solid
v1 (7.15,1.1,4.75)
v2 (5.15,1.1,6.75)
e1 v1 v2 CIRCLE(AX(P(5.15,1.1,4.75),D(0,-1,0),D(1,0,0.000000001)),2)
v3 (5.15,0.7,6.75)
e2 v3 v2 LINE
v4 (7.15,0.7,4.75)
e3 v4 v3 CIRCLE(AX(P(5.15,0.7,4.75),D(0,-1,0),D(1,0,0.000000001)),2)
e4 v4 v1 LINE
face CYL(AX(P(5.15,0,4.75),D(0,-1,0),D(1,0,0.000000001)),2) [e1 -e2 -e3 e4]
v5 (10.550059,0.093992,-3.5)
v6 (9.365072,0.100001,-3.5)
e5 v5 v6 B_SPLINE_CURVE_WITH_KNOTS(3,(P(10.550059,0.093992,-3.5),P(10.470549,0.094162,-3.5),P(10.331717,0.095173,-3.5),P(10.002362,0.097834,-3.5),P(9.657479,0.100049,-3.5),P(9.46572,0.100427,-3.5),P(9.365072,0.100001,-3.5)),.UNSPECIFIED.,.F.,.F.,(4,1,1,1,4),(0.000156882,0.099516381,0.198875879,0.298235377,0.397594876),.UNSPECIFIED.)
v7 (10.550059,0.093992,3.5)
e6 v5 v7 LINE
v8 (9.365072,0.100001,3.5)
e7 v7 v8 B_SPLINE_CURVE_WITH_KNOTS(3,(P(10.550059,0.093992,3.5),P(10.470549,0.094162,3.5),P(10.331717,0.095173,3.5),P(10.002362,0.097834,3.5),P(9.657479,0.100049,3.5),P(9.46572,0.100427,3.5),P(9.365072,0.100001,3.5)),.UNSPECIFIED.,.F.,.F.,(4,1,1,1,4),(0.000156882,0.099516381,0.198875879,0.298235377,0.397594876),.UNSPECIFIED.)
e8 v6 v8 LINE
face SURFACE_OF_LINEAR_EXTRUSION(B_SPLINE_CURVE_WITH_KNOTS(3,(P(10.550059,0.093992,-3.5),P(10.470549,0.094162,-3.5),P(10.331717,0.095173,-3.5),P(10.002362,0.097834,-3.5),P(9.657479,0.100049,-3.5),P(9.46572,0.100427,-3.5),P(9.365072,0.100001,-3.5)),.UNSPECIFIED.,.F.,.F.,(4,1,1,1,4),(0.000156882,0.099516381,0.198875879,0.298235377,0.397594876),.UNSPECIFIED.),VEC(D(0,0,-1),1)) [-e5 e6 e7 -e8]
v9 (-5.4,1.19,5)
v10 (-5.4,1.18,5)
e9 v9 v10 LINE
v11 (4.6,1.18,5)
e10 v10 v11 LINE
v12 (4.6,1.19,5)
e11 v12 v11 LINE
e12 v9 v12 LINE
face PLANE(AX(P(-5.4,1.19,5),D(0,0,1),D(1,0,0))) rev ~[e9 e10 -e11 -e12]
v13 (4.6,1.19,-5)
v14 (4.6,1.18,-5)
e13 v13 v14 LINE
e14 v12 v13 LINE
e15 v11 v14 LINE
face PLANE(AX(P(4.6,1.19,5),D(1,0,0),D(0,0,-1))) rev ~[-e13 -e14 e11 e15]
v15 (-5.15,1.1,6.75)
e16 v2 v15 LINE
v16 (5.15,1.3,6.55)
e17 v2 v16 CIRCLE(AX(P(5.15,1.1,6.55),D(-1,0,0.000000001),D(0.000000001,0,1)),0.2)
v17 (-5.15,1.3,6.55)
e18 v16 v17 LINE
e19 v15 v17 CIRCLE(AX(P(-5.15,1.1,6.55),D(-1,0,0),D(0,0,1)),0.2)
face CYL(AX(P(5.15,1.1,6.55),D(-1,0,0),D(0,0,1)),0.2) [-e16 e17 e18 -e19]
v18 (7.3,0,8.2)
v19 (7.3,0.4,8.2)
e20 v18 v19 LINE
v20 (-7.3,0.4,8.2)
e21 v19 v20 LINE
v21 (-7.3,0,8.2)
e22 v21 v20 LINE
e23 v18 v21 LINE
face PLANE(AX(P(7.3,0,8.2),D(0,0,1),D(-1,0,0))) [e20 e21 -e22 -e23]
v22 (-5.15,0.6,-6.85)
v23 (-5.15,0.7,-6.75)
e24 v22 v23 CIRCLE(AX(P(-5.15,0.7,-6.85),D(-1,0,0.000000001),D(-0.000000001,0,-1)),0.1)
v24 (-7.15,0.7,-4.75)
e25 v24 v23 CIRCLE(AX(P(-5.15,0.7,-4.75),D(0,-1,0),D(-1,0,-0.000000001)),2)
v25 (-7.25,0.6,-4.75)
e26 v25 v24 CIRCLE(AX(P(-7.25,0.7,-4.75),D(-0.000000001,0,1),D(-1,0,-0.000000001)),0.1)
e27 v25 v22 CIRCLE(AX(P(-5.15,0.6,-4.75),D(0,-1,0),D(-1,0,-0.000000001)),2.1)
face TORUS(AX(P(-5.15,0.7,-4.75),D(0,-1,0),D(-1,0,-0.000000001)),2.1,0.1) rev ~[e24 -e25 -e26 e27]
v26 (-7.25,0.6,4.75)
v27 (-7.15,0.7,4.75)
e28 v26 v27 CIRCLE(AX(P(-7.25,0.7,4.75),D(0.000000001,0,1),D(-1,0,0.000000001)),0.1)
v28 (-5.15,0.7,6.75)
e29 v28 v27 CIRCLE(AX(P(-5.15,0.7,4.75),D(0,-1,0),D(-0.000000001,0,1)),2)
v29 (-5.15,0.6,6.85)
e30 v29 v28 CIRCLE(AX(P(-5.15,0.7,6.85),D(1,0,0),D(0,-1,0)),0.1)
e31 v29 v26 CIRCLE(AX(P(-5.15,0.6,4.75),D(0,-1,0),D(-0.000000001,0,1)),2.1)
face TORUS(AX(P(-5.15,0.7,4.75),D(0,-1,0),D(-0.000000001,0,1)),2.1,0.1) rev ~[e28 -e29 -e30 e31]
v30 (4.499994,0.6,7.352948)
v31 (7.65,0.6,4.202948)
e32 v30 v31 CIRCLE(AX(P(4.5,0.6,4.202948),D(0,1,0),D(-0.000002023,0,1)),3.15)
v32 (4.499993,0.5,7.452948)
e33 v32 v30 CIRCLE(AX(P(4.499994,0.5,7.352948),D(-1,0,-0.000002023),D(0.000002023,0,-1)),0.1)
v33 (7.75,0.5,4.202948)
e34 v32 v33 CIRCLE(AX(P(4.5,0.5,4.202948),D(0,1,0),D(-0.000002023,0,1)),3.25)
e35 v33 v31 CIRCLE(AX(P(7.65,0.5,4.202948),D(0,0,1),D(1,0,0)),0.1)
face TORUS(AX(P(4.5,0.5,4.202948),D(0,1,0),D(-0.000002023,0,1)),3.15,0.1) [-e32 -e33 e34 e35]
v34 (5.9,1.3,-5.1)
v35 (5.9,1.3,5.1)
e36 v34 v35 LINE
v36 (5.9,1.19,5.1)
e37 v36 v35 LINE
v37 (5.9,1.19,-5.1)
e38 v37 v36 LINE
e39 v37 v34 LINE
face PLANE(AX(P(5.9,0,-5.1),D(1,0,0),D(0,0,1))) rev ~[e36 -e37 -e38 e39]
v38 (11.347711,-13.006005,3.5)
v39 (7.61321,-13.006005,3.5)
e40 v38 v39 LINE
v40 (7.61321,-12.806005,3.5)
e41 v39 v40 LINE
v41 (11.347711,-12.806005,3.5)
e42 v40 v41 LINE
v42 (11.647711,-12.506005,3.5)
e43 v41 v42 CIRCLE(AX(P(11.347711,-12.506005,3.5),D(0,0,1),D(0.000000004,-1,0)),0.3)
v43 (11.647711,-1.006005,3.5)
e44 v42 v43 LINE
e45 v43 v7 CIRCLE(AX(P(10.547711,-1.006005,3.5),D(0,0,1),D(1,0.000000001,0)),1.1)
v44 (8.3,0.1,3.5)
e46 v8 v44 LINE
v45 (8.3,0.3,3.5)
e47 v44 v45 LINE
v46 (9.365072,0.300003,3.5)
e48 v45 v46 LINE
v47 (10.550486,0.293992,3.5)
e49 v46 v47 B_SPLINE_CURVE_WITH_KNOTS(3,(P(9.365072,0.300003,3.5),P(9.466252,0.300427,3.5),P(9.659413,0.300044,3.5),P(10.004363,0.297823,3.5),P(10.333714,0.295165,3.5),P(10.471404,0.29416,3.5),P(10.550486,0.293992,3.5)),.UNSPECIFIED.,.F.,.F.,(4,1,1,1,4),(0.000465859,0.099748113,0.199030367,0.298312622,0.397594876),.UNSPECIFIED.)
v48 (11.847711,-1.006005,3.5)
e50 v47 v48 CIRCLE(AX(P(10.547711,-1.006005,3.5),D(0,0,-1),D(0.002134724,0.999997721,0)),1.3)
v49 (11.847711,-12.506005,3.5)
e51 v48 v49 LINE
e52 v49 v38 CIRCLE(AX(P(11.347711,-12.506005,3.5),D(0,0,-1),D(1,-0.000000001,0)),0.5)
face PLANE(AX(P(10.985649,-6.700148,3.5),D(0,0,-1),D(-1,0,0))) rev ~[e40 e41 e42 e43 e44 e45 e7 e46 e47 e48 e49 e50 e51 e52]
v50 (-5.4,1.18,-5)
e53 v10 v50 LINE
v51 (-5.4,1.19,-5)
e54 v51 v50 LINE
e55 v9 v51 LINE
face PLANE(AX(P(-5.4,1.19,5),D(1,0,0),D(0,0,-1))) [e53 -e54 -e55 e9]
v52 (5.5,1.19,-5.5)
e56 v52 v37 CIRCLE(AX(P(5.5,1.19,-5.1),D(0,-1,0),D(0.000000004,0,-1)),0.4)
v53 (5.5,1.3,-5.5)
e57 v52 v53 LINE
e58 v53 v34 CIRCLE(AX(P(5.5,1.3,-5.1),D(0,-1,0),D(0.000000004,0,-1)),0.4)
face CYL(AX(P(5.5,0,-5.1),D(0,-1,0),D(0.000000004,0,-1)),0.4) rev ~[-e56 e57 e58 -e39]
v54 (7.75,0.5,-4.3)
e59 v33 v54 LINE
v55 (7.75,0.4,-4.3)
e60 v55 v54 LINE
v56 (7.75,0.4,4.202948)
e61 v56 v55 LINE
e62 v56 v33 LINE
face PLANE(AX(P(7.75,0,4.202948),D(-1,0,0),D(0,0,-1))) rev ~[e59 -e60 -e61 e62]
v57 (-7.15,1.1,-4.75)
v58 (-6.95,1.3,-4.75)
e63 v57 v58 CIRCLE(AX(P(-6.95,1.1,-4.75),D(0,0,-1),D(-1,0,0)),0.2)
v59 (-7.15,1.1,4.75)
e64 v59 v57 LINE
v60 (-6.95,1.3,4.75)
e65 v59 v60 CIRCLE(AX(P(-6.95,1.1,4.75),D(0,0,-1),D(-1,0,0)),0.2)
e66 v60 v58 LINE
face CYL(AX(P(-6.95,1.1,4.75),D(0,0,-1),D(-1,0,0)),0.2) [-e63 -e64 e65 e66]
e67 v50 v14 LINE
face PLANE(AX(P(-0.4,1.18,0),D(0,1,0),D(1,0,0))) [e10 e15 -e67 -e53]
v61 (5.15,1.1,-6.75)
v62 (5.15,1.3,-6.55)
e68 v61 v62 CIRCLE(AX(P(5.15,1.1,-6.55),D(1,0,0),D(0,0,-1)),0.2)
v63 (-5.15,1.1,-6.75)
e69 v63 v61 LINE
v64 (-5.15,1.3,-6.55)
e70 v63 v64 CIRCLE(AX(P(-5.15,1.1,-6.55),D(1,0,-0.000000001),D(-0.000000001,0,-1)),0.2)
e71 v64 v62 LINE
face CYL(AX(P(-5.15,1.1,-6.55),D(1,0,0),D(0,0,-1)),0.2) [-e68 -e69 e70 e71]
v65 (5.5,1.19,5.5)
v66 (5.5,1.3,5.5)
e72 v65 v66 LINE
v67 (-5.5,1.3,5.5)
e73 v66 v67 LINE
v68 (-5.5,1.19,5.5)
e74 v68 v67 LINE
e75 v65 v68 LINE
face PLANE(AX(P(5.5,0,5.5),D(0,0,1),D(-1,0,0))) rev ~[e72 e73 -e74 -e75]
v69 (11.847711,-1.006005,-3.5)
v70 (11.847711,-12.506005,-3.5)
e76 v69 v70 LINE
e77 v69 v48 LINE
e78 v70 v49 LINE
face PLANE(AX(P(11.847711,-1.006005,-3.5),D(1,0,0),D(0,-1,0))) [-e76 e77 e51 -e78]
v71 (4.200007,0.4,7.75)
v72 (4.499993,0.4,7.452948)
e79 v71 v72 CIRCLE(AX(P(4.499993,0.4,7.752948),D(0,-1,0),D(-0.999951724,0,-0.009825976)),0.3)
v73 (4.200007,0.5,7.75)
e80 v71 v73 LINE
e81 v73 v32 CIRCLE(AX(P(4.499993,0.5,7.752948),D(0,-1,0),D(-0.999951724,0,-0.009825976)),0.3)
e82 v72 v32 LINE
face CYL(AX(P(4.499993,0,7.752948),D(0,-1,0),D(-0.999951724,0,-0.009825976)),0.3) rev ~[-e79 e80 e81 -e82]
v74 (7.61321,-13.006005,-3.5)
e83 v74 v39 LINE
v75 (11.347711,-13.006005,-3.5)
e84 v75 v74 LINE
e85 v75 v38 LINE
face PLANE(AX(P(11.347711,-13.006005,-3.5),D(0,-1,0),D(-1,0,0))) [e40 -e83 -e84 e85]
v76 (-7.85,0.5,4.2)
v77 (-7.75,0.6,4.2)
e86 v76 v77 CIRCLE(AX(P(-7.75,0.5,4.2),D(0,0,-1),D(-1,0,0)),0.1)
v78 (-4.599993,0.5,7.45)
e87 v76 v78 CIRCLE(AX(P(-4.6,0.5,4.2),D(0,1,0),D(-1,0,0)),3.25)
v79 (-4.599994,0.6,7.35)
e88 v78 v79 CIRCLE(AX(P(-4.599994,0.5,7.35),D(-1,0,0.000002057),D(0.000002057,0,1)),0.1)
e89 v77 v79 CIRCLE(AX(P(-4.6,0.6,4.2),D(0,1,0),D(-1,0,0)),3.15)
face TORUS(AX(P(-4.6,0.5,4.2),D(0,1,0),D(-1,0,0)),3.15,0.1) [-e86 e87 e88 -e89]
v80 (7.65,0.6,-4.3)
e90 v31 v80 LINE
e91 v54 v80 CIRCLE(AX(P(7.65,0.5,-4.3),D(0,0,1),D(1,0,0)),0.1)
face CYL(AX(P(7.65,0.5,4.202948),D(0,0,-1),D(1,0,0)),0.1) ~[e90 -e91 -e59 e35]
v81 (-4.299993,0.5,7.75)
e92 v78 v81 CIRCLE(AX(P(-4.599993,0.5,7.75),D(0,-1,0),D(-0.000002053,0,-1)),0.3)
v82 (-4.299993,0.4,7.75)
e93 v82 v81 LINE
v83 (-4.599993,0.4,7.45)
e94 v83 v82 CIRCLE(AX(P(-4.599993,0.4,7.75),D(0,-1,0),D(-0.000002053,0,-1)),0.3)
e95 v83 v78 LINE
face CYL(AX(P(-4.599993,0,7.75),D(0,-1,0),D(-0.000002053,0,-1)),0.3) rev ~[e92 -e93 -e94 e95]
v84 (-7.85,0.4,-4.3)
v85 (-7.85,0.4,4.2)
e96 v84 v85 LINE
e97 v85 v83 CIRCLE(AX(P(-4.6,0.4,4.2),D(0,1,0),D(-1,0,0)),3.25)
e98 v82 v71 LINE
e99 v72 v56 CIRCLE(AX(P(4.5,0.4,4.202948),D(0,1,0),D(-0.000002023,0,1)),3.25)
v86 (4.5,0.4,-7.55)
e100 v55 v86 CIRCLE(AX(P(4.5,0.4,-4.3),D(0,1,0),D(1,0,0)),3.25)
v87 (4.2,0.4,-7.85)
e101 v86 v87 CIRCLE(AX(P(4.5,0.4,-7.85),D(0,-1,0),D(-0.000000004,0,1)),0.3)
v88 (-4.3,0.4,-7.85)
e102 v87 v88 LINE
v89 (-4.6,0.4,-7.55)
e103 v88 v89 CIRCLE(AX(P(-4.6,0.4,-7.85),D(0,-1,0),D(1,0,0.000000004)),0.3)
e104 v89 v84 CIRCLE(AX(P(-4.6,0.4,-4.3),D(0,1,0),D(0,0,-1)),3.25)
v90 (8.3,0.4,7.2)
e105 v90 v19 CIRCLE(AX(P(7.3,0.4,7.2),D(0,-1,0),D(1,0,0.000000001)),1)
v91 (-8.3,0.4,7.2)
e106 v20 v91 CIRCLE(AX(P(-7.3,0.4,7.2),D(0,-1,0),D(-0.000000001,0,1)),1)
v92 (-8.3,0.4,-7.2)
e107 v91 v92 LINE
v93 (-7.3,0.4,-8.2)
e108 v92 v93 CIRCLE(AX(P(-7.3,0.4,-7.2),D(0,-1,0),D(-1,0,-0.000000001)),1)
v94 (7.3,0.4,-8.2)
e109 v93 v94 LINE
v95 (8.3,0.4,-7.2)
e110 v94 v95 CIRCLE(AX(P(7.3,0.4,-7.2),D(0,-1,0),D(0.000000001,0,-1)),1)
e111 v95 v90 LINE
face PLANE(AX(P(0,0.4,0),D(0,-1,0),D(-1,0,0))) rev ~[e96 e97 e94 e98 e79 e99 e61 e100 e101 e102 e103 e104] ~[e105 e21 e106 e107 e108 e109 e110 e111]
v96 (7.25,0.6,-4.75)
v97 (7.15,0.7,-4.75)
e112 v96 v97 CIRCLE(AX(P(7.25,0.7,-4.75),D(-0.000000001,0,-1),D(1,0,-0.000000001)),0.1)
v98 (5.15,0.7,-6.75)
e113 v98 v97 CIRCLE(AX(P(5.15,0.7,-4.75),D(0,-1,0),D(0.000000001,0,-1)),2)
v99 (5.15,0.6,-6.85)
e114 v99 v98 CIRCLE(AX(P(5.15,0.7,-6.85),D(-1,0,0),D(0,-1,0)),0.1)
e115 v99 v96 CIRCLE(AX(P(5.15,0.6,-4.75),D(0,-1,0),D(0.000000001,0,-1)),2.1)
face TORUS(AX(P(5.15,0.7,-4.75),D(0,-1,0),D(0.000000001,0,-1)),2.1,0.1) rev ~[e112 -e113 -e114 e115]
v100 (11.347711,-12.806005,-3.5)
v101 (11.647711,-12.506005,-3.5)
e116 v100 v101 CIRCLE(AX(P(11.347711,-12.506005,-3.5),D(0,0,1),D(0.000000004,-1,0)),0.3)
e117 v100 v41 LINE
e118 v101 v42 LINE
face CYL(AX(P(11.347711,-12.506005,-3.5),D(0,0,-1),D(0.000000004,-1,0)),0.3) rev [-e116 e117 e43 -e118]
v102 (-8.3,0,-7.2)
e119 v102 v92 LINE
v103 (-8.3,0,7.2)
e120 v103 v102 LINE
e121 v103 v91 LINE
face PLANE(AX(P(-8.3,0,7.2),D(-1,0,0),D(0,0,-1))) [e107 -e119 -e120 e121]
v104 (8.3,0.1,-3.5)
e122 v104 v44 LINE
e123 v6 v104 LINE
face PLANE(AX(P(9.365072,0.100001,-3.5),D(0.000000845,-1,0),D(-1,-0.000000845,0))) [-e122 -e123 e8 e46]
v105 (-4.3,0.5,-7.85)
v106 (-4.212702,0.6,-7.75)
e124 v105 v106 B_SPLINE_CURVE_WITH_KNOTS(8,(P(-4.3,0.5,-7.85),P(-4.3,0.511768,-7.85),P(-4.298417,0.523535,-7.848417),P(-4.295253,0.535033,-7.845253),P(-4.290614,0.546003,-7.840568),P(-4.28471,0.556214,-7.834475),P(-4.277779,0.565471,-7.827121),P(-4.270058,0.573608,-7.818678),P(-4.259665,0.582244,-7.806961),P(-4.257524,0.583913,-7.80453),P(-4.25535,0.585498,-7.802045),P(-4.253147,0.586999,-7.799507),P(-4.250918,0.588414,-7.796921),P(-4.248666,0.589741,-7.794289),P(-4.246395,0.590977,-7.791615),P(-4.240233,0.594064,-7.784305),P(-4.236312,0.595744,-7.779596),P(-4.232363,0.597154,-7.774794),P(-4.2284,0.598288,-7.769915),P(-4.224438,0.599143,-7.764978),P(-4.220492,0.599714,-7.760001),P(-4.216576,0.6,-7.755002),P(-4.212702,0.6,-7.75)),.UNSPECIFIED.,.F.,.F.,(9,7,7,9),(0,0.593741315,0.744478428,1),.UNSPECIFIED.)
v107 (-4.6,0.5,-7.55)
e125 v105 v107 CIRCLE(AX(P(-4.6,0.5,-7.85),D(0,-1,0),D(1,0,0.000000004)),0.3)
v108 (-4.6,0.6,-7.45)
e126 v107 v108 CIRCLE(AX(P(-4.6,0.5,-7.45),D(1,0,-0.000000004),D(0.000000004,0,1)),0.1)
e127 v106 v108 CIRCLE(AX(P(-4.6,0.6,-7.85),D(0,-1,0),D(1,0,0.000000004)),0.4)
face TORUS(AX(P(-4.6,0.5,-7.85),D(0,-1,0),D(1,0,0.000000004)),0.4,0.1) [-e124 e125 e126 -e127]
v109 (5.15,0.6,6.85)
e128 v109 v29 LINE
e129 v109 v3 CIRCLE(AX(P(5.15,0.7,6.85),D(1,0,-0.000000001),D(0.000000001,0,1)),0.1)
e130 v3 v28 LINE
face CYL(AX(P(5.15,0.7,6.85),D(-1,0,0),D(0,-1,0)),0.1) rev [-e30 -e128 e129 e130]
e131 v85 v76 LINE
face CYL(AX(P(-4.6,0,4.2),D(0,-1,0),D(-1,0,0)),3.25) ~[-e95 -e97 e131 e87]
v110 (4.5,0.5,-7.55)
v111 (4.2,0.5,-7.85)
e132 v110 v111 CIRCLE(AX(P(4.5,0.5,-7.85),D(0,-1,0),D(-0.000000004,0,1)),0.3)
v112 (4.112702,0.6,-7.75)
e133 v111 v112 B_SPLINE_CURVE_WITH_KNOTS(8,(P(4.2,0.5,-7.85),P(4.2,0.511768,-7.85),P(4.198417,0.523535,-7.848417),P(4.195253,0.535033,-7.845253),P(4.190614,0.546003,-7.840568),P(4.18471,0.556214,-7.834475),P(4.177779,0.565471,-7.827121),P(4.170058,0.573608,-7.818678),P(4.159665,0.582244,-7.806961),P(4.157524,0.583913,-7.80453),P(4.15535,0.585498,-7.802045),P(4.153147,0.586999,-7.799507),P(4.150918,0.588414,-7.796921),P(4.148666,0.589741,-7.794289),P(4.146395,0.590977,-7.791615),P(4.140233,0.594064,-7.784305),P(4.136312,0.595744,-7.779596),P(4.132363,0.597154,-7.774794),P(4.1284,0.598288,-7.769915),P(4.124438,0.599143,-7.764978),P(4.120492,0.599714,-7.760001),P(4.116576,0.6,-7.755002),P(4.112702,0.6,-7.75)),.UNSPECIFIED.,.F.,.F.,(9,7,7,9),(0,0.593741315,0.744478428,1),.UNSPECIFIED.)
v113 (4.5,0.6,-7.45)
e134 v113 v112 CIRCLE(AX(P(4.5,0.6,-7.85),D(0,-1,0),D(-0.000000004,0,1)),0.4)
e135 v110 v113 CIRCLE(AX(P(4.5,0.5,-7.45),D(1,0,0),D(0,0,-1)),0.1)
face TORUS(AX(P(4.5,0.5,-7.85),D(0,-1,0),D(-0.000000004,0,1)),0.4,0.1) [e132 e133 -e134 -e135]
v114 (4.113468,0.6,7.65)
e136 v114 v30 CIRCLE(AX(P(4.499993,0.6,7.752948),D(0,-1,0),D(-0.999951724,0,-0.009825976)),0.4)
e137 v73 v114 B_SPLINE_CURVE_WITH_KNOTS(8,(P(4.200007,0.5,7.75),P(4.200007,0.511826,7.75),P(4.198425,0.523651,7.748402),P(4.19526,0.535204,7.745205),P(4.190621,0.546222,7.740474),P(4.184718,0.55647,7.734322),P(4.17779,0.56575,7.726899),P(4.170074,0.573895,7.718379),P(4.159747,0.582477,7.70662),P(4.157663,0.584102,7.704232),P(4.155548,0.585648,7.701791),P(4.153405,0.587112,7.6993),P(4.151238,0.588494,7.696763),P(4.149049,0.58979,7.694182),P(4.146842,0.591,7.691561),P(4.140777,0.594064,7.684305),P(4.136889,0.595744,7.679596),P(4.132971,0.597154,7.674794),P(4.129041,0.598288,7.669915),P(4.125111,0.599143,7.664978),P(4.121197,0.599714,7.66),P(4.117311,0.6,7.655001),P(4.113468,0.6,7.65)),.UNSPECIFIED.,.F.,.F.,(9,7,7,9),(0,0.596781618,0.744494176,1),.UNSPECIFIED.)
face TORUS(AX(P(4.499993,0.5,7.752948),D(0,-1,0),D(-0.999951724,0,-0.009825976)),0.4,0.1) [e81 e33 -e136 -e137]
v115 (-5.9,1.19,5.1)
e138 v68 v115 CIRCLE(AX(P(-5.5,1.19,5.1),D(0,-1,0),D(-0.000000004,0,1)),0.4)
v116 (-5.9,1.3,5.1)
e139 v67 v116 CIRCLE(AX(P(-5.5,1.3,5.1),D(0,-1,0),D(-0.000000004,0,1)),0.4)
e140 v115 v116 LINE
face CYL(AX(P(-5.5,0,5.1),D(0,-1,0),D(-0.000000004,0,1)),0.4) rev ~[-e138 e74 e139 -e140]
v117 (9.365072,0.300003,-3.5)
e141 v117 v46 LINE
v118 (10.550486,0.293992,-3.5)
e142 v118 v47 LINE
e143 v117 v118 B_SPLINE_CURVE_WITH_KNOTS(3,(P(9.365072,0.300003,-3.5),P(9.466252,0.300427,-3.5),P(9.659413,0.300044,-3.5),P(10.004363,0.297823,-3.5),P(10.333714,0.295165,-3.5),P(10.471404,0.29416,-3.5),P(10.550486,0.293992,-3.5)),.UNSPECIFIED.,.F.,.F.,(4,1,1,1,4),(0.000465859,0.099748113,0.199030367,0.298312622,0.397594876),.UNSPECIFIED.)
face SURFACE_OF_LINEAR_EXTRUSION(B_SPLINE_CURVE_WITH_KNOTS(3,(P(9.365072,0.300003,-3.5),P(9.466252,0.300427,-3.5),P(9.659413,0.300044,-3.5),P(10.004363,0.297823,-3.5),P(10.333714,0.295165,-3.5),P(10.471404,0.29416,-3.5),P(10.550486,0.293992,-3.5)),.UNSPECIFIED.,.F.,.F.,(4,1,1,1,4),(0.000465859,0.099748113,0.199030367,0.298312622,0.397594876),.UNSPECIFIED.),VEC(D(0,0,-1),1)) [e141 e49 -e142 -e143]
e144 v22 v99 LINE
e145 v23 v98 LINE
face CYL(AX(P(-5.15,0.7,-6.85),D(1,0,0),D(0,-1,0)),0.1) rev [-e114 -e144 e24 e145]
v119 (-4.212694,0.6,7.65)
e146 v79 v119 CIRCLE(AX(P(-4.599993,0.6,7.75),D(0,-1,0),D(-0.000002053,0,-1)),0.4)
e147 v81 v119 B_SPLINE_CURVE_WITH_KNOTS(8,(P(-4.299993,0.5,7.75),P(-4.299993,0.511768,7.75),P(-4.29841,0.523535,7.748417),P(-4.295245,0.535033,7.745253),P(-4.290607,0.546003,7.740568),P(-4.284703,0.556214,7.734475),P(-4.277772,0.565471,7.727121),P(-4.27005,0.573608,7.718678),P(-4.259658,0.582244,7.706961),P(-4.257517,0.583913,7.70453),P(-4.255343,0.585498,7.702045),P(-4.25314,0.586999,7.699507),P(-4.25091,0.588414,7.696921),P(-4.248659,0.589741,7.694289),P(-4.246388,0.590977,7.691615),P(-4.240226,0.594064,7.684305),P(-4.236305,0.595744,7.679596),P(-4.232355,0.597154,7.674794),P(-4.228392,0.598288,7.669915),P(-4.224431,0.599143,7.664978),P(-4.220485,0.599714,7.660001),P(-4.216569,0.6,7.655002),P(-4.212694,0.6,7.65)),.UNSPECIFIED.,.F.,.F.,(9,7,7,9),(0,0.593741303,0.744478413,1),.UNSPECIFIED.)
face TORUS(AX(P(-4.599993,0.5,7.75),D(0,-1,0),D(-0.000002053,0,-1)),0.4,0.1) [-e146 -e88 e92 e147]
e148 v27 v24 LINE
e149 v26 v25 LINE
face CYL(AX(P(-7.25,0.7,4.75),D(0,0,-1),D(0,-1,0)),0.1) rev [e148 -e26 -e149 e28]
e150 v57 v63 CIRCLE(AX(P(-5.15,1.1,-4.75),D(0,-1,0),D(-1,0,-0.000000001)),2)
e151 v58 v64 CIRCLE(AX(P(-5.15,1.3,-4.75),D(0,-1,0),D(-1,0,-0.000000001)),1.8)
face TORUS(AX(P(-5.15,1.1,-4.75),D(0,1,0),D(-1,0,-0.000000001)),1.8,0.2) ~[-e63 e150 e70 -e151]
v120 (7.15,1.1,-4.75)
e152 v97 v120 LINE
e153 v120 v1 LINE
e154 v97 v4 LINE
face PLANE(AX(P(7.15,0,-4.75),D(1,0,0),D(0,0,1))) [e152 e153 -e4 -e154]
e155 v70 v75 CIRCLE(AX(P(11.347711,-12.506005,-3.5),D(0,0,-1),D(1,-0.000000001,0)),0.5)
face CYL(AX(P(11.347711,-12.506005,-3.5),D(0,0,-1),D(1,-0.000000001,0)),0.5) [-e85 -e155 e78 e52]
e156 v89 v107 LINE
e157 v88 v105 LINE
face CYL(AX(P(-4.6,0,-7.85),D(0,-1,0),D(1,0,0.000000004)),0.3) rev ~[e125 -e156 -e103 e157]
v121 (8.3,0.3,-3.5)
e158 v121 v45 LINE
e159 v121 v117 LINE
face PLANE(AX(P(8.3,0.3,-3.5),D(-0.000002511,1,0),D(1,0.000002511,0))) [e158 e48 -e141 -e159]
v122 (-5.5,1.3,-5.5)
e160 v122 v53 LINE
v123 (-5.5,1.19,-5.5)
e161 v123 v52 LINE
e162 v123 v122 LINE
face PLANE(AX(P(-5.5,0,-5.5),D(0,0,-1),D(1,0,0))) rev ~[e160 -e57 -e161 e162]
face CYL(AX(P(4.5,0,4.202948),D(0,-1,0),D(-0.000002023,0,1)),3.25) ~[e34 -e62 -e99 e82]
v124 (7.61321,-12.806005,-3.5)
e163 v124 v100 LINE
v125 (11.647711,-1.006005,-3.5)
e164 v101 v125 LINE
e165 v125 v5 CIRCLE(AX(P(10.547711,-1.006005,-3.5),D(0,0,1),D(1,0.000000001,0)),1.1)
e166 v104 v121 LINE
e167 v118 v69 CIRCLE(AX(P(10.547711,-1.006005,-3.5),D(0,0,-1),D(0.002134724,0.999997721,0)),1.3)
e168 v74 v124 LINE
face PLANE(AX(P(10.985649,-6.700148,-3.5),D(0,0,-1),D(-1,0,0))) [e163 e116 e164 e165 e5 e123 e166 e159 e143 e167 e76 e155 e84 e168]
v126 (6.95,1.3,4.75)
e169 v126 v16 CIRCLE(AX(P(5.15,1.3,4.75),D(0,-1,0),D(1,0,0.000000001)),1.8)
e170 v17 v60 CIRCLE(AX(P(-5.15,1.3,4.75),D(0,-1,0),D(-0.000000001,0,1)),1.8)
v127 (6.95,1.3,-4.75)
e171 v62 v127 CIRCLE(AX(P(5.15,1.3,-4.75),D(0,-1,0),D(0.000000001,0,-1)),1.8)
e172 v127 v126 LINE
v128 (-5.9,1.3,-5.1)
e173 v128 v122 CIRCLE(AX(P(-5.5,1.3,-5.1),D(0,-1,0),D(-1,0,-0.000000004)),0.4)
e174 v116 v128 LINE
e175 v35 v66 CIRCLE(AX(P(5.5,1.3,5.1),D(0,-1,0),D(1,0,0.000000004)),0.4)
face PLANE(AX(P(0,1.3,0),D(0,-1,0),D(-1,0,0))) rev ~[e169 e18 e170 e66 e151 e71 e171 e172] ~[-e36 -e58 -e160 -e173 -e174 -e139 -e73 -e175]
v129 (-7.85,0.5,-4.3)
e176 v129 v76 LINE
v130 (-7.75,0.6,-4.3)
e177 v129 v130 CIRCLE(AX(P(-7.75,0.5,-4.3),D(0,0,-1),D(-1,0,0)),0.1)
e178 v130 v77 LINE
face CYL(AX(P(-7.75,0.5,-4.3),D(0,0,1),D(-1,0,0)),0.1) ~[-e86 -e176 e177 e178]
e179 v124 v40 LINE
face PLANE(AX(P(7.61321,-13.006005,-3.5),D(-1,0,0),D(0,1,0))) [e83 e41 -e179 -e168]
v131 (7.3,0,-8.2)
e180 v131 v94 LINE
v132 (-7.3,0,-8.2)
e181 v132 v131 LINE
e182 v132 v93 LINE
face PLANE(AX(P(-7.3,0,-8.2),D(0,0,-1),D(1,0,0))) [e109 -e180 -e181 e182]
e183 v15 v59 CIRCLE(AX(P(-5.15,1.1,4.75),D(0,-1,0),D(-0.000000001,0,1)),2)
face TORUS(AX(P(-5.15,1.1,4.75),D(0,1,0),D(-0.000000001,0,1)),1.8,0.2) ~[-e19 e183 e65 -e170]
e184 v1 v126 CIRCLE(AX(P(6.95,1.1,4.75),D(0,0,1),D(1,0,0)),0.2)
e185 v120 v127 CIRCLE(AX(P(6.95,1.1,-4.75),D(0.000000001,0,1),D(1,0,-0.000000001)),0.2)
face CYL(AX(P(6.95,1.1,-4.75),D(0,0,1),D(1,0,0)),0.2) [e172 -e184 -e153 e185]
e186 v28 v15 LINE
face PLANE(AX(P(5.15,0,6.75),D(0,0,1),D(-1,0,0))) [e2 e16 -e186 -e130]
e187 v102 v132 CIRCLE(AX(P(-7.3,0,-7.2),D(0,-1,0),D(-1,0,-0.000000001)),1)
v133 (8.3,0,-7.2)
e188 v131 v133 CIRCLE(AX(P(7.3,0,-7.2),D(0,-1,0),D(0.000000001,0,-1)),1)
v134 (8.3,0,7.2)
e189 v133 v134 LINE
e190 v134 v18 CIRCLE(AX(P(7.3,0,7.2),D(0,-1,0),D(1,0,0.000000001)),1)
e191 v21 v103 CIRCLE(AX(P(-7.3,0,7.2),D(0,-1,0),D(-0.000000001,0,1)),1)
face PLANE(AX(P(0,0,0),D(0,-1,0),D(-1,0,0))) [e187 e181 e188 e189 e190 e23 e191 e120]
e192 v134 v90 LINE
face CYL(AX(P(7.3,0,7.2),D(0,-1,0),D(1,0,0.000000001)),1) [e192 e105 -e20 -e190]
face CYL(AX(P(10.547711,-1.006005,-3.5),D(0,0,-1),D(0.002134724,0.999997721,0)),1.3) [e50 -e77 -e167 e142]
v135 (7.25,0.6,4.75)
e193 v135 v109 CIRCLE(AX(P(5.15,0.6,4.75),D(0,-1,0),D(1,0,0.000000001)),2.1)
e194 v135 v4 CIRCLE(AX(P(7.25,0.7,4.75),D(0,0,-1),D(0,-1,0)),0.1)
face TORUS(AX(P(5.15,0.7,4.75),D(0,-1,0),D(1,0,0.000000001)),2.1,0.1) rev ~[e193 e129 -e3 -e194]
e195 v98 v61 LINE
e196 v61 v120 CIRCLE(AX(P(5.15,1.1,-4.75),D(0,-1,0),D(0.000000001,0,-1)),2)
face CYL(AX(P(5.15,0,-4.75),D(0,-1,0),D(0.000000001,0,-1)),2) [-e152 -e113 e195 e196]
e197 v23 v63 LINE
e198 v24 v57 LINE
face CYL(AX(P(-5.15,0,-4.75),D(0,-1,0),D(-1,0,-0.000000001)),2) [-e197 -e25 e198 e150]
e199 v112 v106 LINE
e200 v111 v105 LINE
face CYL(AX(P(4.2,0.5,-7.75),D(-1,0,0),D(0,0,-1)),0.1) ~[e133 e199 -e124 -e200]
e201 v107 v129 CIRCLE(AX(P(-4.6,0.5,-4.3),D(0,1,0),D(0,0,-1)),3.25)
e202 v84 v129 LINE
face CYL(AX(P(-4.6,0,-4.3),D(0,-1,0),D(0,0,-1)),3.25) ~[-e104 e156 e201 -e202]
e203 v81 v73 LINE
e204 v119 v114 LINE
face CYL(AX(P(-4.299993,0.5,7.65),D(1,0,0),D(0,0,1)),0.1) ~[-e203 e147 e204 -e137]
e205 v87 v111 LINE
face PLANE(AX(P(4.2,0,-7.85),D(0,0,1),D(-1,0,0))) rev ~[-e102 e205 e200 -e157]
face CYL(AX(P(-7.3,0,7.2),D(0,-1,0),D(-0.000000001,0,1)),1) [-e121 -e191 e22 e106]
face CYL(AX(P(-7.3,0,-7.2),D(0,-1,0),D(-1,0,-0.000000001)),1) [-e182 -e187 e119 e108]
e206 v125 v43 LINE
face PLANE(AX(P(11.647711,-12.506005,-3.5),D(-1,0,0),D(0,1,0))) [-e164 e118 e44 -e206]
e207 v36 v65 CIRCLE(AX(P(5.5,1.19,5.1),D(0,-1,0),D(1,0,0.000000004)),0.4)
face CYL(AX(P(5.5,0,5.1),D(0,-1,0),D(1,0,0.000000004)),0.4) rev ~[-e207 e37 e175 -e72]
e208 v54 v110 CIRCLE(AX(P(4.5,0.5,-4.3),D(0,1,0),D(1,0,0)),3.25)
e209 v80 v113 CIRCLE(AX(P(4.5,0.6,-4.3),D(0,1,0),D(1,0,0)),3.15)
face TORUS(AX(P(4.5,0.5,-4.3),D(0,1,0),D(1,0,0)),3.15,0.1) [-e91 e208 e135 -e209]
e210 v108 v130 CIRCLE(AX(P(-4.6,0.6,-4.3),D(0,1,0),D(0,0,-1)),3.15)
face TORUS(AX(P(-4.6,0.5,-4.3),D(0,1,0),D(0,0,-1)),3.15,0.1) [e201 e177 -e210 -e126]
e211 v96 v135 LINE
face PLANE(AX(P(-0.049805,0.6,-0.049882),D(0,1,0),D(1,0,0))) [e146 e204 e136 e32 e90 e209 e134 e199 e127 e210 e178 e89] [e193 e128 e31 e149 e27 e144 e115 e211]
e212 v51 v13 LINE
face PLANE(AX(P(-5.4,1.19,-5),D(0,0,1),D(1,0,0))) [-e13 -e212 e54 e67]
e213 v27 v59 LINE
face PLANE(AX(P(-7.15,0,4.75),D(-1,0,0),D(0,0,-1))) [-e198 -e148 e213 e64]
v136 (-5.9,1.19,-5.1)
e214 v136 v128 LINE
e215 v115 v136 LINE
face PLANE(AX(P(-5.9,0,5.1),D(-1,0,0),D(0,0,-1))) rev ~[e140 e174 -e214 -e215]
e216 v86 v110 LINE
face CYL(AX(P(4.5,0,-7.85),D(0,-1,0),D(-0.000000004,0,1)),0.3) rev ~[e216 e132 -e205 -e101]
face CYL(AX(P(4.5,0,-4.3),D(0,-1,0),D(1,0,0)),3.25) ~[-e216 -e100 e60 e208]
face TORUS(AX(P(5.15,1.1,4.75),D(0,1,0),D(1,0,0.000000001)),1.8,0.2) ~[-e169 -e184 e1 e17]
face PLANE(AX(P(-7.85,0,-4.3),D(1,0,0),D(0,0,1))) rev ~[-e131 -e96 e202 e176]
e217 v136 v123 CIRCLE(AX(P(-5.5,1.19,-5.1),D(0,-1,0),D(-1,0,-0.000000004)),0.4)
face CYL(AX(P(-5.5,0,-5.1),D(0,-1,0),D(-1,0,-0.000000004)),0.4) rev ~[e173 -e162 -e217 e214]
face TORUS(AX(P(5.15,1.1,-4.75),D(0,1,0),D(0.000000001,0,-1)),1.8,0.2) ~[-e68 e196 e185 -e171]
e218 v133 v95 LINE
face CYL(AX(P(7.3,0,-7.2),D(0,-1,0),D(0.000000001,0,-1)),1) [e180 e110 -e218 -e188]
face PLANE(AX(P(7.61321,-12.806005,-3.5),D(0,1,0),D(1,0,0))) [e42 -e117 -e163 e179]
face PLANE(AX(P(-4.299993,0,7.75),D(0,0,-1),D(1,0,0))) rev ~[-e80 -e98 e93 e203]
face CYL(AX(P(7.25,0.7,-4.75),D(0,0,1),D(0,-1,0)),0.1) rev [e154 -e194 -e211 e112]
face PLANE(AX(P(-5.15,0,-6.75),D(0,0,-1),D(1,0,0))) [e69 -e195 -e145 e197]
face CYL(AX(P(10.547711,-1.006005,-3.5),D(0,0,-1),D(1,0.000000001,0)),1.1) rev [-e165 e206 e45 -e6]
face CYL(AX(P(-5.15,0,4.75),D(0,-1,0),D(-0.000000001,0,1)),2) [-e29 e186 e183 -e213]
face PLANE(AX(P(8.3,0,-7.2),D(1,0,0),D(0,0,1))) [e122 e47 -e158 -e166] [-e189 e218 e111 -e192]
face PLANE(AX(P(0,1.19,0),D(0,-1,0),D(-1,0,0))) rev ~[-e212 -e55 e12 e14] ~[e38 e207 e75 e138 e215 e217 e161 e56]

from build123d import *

# Parameters (mm, degrees)
EXTRUDE_1_DEPTH      = 0.4
EXTRUDE_2_DEPTH      = 0.6
EXTRUDE_3_DEPTH      = 1.3
EXTRUDE_4_DEPTH      = 1.19
FILLET_1_R           = 0.1
FILLET_2_R           = 0.1
FILLET_3_R           = 0.2
EXTRUDE_5_DEPTH      = 3.5
EXTRUDE_5_DEPTH_BACK = 3.5
EXTRUDE_5_START      = -8.2
SKETCH_3_W           = 10
SKETCH_3_H           = 10
CUT_EXTRUDE_1_DEPTH  = 0.01


with BuildPart() as part:
    # 草图1 → 凸台-拉伸1 (new body)
    with BuildSketch(Plane(origin=(0, 0, 0), x_dir=(1, 0, 0), z_dir=(0, 1, 0))):
        with BuildLine():
            Line((7.3, -8.2), (-7.3, -8.2))
            ThreePointArc((-7.3, -8.2), (-8.007106781, -7.907106781), (-8.3, -7.2))
            Line((-8.3, -7.2), (-8.3, 7.2))
            ThreePointArc((-8.3, 7.2), (-8.007106781, 7.907106781), (-7.3, 8.2))
            Line((-7.3, 8.2), (7.3, 8.2))
            ThreePointArc((7.3, 8.2), (8.007106781, 7.907106781), (8.3, 7.2))
            Line((8.3, 7.2), (8.3, -7.2))
            ThreePointArc((8.3, -7.2), (8.007106781, -7.907106781), (7.3, -8.2))
        make_face()
        with BuildLine():
            Line((7.75, -4.202947793), (7.75, 4.3))
            ThreePointArc((7.75, 4.3), (6.798097039, 6.598097039), (4.5, 7.55))
            ThreePointArc((4.5, 7.55), (4.287867966, 7.637867966), (4.2, 7.85))
            Line((4.2, 7.85), (-4.3, 7.85))
            ThreePointArc((-4.3, 7.85), (-4.387867966, 7.637867966), (-4.6, 7.55))
            ThreePointArc((-4.6, 7.55), (-6.898097039, 6.598097039), (-7.85, 4.3))
            Line((-7.85, 4.3), (-7.85, -4.2))
            ThreePointArc((-7.85, -4.2), (-6.898094676, -6.498099402), (-4.599993316, -7.45))
            ThreePointArc((-4.599993316, -7.45), (-4.387860883, -7.537867748), (-4.299992699, -7.75))
            Line((-4.299992699, -7.75), (4.200007301, -7.75))
            ThreePointArc((4.200007301, -7.75), (4.288905774, -7.539775891), (4.499993425, -7.452947793))
            ThreePointArc((4.499993425, -7.452947793), (6.798094714, -6.501047157), (7.75, -4.202947793))
        make_face(mode=Mode.SUBTRACT)
    extrude(amount=EXTRUDE_1_DEPTH)

    # 草图1<3> → 凸台-拉伸2 (add)
    with BuildSketch(Plane(origin=(0, 0, 0), x_dir=(1, 0, 0), z_dir=(0, 1, 0))):
        with BuildLine():
            Line((7.75, -4.202947793), (7.75, 4.3))
            ThreePointArc((7.75, 4.3), (6.798097039, 6.598097039), (4.5, 7.55))
            ThreePointArc((4.5, 7.55), (4.287867966, 7.637867966), (4.2, 7.85))
            Line((4.2, 7.85), (-4.3, 7.85))
            ThreePointArc((-4.3, 7.85), (-4.387867966, 7.637867966), (-4.6, 7.55))
            ThreePointArc((-4.6, 7.55), (-6.898097039, 6.598097039), (-7.85, 4.3))
            Line((-7.85, 4.3), (-7.85, -4.2))
            ThreePointArc((-7.85, -4.2), (-6.898094676, -6.498099402), (-4.599993316, -7.45))
            ThreePointArc((-4.599993316, -7.45), (-4.387860883, -7.537867748), (-4.299992699, -7.75))
            Line((-4.299992699, -7.75), (4.200007301, -7.75))
            ThreePointArc((4.200007301, -7.75), (4.288905774, -7.539775891), (4.499993425, -7.452947793))
            ThreePointArc((4.499993425, -7.452947793), (6.798094714, -6.501047157), (7.75, -4.202947793))
        make_face()
        with BuildLine():
            Line((5.15, -6.75), (-5.15, -6.75))
            ThreePointArc((-5.15, -6.75), (-6.564213562, -6.164213562), (-7.15, -4.75))
            Line((-7.15, -4.75), (-7.15, 4.75))
            ThreePointArc((-7.15, 4.75), (-6.564213562, 6.164213562), (-5.15, 6.75))
            Line((-5.15, 6.75), (5.15, 6.75))
            ThreePointArc((5.15, 6.75), (6.564213562, 6.164213562), (7.15, 4.75))
            Line((7.15, 4.75), (7.15, -4.75))
            ThreePointArc((7.15, -4.75), (6.564213562, -6.164213562), (5.15, -6.75))
        make_face(mode=Mode.SUBTRACT)
    extrude(amount=EXTRUDE_2_DEPTH)

    # 草图1<4> → 凸台-拉伸3 (add)
    with BuildSketch(Plane(origin=(0, 0, 0), x_dir=(1, 0, 0), z_dir=(0, 1, 0))):
        with BuildLine():
            Line((5.15, -6.75), (-5.15, -6.75))
            ThreePointArc((-5.15, -6.75), (-6.564213562, -6.164213562), (-7.15, -4.75))
            Line((-7.15, -4.75), (-7.15, 4.75))
            ThreePointArc((-7.15, 4.75), (-6.564213562, 6.164213562), (-5.15, 6.75))
            Line((-5.15, 6.75), (5.15, 6.75))
            ThreePointArc((5.15, 6.75), (6.564213562, 6.164213562), (7.15, 4.75))
            Line((7.15, 4.75), (7.15, -4.75))
            ThreePointArc((7.15, -4.75), (6.564213562, -6.164213562), (5.15, -6.75))
        make_face()
        with BuildLine():
            Line((5.5, -5.5), (-5.5, -5.5))
            ThreePointArc((-5.5, -5.5), (-5.782842712, -5.382842712), (-5.9, -5.1))
            Line((-5.9, -5.1), (-5.9, 5.1))
            ThreePointArc((-5.9, 5.1), (-5.782842712, 5.382842712), (-5.5, 5.5))
            Line((-5.5, 5.5), (5.5, 5.5))
            ThreePointArc((5.5, 5.5), (5.782842712, 5.382842712), (5.9, 5.1))
            Line((5.9, 5.1), (5.9, -5.1))
            ThreePointArc((5.9, -5.1), (5.782842712, -5.382842712), (5.5, -5.5))
        make_face(mode=Mode.SUBTRACT)
    extrude(amount=EXTRUDE_3_DEPTH)

    # 草图1<5> → 凸台-拉伸4 (add)
    with BuildSketch(Plane(origin=(0, 0, 0), x_dir=(1, 0, 0), z_dir=(0, 1, 0))):
        with BuildLine():
            Line((-5.9, -5.1), (-5.9, 5.1))
            ThreePointArc((-5.9, 5.1), (-5.782842712, 5.382842712), (-5.5, 5.5))
            Line((-5.5, 5.5), (5.5, 5.5))
            ThreePointArc((5.5, 5.5), (5.782842712, 5.382842712), (5.9, 5.1))
            Line((5.9, 5.1), (5.9, -5.1))
            ThreePointArc((5.9, -5.1), (5.782842712, -5.382842712), (5.5, -5.5))
            Line((5.5, -5.5), (-5.5, -5.5))
            ThreePointArc((-5.5, -5.5), (-5.782842712, -5.382842712), (-5.9, -5.1))
        make_face()
    extrude(amount=EXTRUDE_4_DEPTH)

    # 圆角1
    fillet_1_edges = [part.edges().sort_by_distance(p)[0] for p in [
        (-6.898094676, 0.6, 6.498099402),
        (-0.049992699, 0.6, 7.75),
        (4.288905774, 0.6, 7.539775891),
        (-4.387867966, 0.6, -7.637867966),
        (-7.85, 0.6, -0.05),
        (-4.387860883, 0.6, 7.537867748),
        (6.798094714, 0.6, 6.501047157),
        (7.75, 0.6, -0.048526103),
        (6.798097039, 0.6, -6.598097039),
        (4.287867966, 0.6, -7.637867966),
        (-0.05, 0.6, -7.85),
        (-6.898097039, 0.6, -6.598097039),
    ]]
    fillet(fillet_1_edges, radius=FILLET_1_R)

    # 圆角2
    fillet_2_edges = [part.edges().sort_by_distance(p)[0] for p in [
        (-6.564213562, 0.6, -6.164213562),
        (0, 0.6, -6.75),
        (6.564213562, 0.6, -6.164213562),
        (7.15, 0.6, 0),
        (6.564213562, 0.6, 6.164213562),
        (0, 0.6, 6.75),
        (-6.564213562, 0.6, 6.164213562),
        (-7.15, 0.6, 0),
    ]]
    fillet(fillet_2_edges, radius=FILLET_2_R)

    # 圆角3
    fillet_3_edges = [part.edges().sort_by_distance(p)[0] for p in [
        (-7.15, 1.3, 0),
        (-6.564213562, 1.3, 6.164213562),
        (0, 1.3, 6.75),
        (0, 1.3, -6.75),
        (-6.564213562, 1.3, -6.164213562),
        (6.564213562, 1.3, 6.164213562),
        (7.15, 1.3, 0),
        (6.564213562, 1.3, -6.164213562),
    ]]
    fillet(fillet_3_edges, radius=FILLET_3_R)

    # 草图2 → 凸台-拉伸5 (add, two sides: drawn at the far end of the back side and taken through both)
    with BuildSketch(Plane.XY.offset(8.2).offset(EXTRUDE_5_START - EXTRUDE_5_DEPTH_BACK)):
        with BuildLine():
            Line((8.3, 0.3), (9.365071607, 0.300002674))
            add(Edge.make_bspline(
                [(9.365071607, 0.300002674), (9.466251692, 0.300426751), (9.659413087, 0.300043909), (10.004363297, 0.297823417), (10.333713629, 0.295164588), (10.471404473, 0.294160487), (10.550486094, 0.293991669)],
                knots=[0.000465859, 0.000465859, 0.000465859, 0.000465859, 0.099748113, 0.199030367, 0.298312622, 0.397594876, 0.397594876, 0.397594876, 0.397594876], degree=3))
            ThreePointArc((10.550486094, 0.293991669), (11.467930406, -0.087748238), (11.847710954, -1.006005369))
            Line((11.847710954, -1.006005369), (11.847710954, -12.506005369))
            ThreePointArc((11.847710954, -12.506005369), (11.701264344, -12.85955876), (11.347710954, -13.006005369))
            Line((11.347710954, -13.006005369), (7.613209707, -13.006005369))
            Line((7.613209707, -13.006005369), (7.613209707, -12.806005369))
            Line((7.613209707, -12.806005369), (11.347710954, -12.806005369))
            ThreePointArc((11.347710954, -12.806005369), (11.559842988, -12.718137403), (11.647710954, -12.506005369))
            Line((11.647710954, -12.506005369), (11.647710954, -1.006005369))
            ThreePointArc((11.647710954, -1.006005369), (11.326358183, -0.229018566), (10.550059149, 0.093992125))
            add(Edge.make_bspline(
                [(10.550059149, 0.093992125), (10.470549094, 0.094161857), (10.331716757, 0.095173419), (10.002362016, 0.097833701), (9.657479111, 0.100049329), (9.465720155, 0.100426879), (9.365071614, 0.1000009)],
                knots=[0.000156882, 0.000156882, 0.000156882, 0.000156882, 0.099516381, 0.198875879, 0.298235377, 0.397594876, 0.397594876, 0.397594876, 0.397594876], degree=3))
            Line((9.365071614, 0.1000009), (8.3, 0.1))
            Line((8.3, 0.1), (8.3, 0.3))
        make_face()
    extrude(amount=EXTRUDE_5_DEPTH + EXTRUDE_5_DEPTH_BACK)

    # 草图3 → 切除-拉伸1 (cut)
    with BuildSketch(Plane(origin=(0, 1.19, 0), x_dir=(1, 0, 0), z_dir=(0, 1, 0))):
        with Locations((-0.4, 0)):
            Rectangle(SKETCH_3_W, SKETCH_3_H)
    extrude(amount=-CUT_EXTRUDE_1_DEPTH, mode=Mode.SUBTRACT)


solid = part.part
